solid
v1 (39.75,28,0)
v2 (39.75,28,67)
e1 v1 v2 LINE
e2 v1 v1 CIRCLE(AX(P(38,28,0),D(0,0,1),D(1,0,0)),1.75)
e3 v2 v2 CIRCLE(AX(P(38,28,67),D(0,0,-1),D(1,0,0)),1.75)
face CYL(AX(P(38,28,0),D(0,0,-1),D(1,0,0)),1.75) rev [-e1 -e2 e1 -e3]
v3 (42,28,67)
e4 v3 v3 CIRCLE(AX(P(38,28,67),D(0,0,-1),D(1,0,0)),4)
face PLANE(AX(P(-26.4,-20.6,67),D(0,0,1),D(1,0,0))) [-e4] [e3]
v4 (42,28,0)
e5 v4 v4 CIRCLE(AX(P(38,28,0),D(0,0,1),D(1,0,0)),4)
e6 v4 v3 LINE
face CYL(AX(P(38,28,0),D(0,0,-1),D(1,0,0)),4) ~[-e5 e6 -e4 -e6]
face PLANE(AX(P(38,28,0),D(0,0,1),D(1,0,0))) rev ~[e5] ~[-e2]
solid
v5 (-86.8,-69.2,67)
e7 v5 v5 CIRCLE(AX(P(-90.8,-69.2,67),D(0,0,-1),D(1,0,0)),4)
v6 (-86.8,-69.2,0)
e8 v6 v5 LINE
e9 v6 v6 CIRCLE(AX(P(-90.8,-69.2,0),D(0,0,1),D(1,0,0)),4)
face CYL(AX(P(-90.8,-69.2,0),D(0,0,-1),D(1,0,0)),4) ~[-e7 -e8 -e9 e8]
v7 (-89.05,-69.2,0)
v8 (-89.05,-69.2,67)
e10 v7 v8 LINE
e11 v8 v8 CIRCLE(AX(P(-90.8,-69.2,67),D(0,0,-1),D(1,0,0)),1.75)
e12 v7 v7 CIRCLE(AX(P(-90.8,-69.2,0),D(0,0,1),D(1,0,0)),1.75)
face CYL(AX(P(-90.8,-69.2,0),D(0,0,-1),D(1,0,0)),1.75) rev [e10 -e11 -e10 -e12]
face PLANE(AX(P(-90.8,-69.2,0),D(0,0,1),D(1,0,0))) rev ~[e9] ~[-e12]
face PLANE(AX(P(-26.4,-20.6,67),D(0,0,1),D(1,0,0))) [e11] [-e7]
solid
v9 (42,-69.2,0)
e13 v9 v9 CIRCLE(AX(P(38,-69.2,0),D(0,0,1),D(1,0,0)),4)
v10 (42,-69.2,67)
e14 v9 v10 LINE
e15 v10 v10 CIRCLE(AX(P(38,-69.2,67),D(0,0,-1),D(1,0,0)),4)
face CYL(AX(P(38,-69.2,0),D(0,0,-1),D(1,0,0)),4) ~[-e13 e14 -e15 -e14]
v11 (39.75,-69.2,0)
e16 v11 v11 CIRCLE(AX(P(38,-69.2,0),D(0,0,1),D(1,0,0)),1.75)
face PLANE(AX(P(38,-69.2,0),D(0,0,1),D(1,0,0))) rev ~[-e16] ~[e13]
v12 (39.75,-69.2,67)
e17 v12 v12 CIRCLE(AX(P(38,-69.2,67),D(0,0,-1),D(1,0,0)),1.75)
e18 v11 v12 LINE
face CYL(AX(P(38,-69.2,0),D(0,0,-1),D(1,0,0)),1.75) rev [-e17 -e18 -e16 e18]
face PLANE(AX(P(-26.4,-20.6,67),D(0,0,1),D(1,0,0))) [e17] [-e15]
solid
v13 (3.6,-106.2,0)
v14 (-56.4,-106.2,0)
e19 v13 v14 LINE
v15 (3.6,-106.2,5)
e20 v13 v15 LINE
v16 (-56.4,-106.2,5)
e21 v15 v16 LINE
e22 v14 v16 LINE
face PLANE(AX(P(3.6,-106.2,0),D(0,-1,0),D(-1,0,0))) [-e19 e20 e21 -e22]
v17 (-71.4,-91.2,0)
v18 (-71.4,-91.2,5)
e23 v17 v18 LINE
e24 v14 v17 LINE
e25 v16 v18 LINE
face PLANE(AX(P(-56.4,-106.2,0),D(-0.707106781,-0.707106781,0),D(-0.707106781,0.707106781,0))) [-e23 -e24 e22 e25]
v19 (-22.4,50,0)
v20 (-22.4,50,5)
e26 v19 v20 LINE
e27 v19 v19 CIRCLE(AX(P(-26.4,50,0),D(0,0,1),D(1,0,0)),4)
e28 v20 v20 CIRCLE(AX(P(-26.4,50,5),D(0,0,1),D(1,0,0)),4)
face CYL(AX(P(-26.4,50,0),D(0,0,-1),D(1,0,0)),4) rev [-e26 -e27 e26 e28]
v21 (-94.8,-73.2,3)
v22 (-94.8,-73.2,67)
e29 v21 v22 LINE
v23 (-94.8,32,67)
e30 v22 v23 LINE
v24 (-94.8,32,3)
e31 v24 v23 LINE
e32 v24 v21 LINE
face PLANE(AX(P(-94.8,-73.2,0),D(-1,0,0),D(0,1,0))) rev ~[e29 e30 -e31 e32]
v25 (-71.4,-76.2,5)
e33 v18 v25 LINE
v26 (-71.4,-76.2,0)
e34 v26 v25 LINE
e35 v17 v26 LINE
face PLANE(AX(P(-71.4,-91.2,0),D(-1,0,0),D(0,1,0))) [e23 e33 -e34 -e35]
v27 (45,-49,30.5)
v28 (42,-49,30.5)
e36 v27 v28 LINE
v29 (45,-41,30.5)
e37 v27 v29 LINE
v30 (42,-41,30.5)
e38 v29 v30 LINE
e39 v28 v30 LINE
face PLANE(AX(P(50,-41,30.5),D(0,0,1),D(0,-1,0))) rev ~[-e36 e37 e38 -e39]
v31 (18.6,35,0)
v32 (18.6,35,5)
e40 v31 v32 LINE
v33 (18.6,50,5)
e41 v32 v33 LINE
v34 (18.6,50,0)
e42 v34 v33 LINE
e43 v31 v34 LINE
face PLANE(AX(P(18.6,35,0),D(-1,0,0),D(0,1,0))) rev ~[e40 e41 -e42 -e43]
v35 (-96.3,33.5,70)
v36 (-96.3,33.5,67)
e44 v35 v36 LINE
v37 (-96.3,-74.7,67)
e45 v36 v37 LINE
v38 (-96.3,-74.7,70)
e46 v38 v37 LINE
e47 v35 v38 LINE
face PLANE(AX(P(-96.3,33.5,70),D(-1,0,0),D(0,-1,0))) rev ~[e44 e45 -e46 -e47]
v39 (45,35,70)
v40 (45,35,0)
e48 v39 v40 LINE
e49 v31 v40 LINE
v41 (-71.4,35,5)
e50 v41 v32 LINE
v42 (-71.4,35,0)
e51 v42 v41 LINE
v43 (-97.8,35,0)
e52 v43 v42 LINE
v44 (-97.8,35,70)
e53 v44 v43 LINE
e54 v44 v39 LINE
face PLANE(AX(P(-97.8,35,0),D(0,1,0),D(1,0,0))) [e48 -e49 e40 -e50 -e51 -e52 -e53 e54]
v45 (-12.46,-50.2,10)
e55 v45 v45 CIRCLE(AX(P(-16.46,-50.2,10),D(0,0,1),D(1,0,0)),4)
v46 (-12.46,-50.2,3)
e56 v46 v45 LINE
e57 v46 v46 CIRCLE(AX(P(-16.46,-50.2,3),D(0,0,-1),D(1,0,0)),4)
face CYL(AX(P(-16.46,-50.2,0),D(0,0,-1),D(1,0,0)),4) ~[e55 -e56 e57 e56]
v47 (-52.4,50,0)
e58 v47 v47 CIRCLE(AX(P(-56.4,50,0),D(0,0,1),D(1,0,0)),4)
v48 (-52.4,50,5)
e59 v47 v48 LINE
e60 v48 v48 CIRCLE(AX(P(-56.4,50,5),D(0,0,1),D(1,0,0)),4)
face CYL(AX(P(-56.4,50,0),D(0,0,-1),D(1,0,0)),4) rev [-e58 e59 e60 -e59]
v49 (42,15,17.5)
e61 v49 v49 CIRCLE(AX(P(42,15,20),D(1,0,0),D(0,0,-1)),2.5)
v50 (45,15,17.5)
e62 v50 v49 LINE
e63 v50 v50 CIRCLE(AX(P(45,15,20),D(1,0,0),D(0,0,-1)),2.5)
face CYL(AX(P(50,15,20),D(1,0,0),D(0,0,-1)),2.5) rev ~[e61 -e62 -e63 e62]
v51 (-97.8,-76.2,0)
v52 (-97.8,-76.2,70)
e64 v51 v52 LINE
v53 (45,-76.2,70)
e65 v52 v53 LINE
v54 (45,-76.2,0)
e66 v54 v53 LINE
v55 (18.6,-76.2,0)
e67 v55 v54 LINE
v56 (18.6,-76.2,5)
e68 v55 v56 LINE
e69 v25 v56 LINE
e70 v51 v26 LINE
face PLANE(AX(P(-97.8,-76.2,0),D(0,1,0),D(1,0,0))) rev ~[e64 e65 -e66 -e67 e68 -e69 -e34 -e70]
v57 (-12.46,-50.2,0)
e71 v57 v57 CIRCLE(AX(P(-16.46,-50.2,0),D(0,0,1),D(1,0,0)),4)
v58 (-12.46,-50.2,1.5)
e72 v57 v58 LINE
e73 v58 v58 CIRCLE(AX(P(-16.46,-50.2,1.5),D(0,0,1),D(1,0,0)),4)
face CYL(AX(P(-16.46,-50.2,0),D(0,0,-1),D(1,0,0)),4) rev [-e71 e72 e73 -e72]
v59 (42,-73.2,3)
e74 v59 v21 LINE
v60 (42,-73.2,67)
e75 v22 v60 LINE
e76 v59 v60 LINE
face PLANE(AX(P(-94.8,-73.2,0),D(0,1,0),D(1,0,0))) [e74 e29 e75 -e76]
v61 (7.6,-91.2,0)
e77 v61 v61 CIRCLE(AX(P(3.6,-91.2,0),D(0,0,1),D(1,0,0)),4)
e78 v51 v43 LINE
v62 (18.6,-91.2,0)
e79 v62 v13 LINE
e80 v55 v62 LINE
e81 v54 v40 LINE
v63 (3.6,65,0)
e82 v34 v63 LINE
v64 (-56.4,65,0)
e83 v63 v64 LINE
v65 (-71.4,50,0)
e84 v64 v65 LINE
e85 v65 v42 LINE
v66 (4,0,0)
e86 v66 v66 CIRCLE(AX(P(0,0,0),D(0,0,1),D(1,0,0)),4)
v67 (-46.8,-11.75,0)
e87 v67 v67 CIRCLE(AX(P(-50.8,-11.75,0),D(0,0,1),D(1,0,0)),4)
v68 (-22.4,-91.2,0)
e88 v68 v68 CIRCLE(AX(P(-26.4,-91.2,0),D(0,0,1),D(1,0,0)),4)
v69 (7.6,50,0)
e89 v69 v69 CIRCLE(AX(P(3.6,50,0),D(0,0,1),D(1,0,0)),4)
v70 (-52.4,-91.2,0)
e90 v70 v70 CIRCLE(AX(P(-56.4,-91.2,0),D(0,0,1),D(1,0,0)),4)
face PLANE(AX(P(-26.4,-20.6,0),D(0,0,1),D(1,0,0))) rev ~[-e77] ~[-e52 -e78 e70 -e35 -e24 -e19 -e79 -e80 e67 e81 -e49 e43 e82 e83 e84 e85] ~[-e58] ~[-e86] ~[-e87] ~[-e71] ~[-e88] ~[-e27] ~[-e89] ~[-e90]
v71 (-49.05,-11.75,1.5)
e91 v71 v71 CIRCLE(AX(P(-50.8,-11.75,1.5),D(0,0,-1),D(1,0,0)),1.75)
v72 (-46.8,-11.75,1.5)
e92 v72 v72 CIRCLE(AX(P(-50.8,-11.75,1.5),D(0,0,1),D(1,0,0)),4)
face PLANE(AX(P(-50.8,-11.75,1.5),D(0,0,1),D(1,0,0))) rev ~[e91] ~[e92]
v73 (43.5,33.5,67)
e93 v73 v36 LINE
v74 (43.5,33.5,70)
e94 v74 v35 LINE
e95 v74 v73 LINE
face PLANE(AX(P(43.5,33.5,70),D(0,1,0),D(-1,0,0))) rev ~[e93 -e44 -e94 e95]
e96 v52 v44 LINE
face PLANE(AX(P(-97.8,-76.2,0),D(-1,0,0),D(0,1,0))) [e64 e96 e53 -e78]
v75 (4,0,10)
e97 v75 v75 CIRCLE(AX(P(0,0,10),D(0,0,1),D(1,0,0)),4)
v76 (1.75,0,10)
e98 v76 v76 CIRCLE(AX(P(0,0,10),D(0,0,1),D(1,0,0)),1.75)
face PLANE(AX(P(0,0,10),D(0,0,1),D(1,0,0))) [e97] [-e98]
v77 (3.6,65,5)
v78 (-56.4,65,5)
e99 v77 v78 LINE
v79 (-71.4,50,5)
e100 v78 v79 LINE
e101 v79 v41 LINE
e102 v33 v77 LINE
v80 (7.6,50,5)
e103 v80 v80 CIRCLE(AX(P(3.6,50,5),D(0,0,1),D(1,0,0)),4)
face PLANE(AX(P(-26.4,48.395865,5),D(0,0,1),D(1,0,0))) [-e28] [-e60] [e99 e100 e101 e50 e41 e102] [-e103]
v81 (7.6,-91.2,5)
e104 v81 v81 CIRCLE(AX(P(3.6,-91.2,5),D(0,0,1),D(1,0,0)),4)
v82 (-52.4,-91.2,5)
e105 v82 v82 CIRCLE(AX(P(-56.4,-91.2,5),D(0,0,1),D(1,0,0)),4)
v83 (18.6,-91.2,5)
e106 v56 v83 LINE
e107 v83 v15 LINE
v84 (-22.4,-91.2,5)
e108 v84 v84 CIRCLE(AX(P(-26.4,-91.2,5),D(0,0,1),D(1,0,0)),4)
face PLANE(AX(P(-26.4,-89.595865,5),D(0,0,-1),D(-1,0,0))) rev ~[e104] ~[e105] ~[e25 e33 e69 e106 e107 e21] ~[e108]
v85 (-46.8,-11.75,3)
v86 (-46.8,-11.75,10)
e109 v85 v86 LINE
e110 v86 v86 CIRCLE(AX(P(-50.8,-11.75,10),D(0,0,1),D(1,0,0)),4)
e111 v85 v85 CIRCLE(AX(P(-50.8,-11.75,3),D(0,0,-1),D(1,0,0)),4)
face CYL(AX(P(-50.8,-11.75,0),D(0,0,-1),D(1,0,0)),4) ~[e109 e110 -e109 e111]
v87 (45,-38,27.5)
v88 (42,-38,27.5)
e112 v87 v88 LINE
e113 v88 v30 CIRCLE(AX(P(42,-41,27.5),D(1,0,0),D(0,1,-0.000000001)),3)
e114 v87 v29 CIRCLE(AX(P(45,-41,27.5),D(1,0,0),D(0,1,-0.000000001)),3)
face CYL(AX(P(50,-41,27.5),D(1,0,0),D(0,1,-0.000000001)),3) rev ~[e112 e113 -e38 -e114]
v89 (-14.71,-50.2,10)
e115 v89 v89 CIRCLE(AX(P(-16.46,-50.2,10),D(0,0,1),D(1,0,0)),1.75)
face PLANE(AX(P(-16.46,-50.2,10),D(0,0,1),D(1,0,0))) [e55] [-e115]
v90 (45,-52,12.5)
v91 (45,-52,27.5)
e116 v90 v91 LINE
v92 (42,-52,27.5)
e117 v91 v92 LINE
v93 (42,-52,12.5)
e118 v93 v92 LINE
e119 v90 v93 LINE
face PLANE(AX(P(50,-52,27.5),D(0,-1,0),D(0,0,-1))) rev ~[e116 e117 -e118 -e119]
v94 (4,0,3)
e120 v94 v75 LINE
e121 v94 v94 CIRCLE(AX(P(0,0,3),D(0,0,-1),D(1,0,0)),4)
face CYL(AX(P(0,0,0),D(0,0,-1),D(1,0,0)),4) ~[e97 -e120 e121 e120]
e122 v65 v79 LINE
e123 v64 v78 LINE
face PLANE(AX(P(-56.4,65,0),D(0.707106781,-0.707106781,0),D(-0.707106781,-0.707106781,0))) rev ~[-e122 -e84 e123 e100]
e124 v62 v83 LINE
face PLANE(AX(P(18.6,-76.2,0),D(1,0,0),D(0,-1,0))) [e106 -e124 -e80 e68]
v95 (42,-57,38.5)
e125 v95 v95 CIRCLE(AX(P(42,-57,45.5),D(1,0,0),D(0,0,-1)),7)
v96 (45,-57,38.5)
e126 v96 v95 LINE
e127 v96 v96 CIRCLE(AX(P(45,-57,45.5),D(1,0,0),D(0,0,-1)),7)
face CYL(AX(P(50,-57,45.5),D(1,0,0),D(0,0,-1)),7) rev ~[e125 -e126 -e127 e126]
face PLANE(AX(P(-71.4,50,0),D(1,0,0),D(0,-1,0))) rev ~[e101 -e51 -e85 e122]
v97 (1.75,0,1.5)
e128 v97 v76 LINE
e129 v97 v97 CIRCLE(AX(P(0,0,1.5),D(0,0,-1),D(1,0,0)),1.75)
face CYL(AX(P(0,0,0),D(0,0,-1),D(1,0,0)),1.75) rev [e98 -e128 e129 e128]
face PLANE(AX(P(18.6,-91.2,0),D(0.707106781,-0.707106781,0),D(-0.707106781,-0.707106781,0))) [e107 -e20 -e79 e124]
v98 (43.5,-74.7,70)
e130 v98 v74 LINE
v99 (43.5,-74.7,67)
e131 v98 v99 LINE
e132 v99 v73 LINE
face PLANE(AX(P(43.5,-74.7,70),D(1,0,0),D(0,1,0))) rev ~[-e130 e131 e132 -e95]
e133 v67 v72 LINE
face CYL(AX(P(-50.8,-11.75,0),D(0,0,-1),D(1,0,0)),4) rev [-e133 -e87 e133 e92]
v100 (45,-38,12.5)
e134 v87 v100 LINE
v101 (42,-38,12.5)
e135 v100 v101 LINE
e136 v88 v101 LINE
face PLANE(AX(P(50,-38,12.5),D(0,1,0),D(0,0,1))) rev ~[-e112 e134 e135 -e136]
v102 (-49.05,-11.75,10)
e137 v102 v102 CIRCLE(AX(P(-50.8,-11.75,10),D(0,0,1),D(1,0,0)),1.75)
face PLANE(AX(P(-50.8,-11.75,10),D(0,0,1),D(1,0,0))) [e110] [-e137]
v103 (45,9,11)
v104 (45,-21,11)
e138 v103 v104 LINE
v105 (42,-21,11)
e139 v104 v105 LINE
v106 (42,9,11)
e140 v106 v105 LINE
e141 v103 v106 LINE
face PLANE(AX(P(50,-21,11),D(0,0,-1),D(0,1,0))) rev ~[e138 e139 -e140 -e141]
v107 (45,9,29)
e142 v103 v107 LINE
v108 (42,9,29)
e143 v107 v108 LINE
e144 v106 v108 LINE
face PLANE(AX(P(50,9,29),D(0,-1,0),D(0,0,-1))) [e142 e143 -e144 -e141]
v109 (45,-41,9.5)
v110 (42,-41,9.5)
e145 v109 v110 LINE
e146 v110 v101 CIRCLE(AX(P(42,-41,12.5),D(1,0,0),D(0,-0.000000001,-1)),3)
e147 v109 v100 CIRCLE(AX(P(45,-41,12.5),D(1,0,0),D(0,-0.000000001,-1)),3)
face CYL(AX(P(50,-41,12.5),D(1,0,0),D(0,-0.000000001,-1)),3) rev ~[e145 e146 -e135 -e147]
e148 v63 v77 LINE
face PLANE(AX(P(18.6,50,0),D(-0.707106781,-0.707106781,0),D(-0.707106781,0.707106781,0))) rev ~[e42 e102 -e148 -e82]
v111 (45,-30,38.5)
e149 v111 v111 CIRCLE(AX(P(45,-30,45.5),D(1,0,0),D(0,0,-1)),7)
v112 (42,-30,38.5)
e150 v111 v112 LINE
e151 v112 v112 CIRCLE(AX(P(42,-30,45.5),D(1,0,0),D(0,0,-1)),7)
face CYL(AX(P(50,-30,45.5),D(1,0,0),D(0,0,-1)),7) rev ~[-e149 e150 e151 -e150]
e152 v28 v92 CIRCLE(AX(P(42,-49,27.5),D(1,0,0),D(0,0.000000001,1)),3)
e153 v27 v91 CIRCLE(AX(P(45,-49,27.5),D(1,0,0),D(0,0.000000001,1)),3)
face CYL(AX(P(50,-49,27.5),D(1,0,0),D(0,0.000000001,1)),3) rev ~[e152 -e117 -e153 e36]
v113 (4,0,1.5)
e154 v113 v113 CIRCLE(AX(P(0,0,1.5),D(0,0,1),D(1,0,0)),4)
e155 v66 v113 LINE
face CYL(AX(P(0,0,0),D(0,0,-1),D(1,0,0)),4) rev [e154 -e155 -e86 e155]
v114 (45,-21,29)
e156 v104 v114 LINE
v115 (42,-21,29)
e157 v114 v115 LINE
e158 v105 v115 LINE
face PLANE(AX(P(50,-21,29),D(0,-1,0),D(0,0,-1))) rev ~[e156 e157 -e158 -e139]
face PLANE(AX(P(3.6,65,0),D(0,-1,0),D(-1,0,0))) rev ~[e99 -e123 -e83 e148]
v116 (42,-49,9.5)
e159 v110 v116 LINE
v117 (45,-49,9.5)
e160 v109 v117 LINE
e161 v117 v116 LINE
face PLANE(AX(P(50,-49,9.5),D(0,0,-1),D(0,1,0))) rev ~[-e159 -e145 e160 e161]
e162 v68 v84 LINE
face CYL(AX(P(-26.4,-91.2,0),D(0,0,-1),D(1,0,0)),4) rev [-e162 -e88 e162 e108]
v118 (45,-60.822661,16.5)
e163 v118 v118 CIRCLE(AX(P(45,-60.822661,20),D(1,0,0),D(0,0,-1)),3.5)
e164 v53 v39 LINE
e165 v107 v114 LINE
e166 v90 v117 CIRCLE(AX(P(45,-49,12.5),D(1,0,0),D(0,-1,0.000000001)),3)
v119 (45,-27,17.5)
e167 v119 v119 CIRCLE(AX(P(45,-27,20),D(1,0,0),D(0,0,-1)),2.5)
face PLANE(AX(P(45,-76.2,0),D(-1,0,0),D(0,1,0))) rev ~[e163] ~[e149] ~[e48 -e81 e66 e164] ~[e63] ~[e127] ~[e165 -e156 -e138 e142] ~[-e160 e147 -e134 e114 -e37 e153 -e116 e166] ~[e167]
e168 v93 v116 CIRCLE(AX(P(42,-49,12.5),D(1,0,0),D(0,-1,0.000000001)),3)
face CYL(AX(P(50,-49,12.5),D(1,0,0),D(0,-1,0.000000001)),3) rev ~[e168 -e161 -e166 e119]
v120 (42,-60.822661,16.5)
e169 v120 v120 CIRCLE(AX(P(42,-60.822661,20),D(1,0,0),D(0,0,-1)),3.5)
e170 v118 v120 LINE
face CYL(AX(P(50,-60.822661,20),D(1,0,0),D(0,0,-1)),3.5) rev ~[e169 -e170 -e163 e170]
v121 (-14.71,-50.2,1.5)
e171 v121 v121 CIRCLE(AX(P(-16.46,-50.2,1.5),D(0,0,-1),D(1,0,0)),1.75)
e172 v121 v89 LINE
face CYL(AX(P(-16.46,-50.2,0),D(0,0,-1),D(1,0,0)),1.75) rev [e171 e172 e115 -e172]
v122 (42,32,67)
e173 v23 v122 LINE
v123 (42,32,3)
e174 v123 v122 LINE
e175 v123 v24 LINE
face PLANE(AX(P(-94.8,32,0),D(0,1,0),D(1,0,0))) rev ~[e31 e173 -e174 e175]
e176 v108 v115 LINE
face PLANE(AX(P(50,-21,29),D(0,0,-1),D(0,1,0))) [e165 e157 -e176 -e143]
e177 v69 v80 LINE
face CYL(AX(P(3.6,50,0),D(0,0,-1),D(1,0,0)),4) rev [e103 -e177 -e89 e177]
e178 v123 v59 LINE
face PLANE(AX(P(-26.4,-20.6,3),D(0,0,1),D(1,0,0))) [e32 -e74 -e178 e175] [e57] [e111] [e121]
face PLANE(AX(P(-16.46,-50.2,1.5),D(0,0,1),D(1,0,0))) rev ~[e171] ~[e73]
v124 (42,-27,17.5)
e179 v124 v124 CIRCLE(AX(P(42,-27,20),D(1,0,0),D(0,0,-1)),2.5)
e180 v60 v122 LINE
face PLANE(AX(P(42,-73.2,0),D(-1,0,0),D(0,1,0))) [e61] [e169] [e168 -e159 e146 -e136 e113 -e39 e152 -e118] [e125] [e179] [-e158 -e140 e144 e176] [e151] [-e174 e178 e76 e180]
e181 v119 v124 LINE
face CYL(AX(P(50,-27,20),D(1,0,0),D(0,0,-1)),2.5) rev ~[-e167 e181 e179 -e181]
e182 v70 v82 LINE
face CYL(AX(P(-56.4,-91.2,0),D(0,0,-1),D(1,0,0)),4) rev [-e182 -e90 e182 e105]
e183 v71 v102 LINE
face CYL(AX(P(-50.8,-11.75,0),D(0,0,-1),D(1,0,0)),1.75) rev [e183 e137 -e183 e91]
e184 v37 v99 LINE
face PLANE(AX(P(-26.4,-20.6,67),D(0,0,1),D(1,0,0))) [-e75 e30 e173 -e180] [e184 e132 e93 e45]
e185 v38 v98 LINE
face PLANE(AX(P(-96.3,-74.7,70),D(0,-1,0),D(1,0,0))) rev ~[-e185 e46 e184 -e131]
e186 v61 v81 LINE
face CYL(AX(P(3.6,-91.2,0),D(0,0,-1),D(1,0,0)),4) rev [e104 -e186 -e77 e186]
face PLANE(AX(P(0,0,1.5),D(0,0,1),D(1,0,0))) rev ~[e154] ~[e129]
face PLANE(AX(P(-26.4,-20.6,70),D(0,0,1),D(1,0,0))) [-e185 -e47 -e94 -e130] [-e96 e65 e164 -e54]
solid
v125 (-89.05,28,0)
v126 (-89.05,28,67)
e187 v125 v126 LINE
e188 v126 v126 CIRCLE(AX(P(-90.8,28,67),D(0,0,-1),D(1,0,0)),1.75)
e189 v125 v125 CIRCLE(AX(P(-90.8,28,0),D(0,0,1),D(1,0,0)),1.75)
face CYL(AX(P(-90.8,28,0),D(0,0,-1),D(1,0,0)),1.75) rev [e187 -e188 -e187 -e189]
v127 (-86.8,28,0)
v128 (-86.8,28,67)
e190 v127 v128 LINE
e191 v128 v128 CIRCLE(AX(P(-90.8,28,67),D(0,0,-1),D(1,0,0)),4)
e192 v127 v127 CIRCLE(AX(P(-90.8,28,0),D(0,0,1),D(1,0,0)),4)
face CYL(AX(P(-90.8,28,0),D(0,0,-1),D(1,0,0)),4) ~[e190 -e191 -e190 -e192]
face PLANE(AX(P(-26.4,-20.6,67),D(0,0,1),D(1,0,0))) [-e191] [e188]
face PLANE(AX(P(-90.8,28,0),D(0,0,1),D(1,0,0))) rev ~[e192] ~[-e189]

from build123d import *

# Parameters (mm, degrees)
CROQUIS2_W                = 142.8
CROQUIS2_H                = 111.2
CROQUIS2_R                = 1.75
SALIENTE_EXTRUIR1_DEPTH   = 3
CROQUIS3_R                = 4
CROQUIS3_R_2              = 1.75
SALIENTE_EXTRUIR7_DEPTH   = 70
SALIENTE_EXTRUIR7_2_DEPTH = 70
SALIENTE_EXTRUIR7_3_DEPTH = 70
SALIENTE_EXTRUIR7_4_DEPTH = 70
CROQUIS3_W                = 142.8
CROQUIS3_H                = 111.2
CROQUIS3_W_2              = 136.8
CROQUIS3_H_2              = 105.2
SALIENTE_EXTRUIR7_5_DEPTH = 70
CROQUIS4_R                = 4
CROQUIS4_R_2              = 1.75
SALIENTE_EXTRUIR8_DEPTH   = 10
CROQUIS5_R                = 4
CORTAR_EXTRUIR1_DEPTH     = 1.5
CROQUIS6_R                = 2.5
CROQUIS6_R_2              = 7
CROQUIS6_R_3              = 3.5
CROQUIS6_W                = 18
CROQUIS6_H                = 30
CORTAR_EXTRUIR2_DEPTH     = 37.5
CORTAR_EXTRUIR3_DEPTH     = 3
CROQUIS8_R                = 4
SALIENTE_EXTRUIR9_DEPTH   = 5


with BuildPart() as part:
    # Croquis2 → Saliente-Extruir1 (new body)
    with BuildSketch(Plane.XY):
        with Locations((-26.4, -20.6)):
            Rectangle(CROQUIS2_W, CROQUIS2_H)
        Circle(CROQUIS2_R, mode=Mode.SUBTRACT)
        with Locations((-50.8, -11.75)):
            Circle(CROQUIS2_R, mode=Mode.SUBTRACT)
        with Locations((-16.46, -50.2)):
            Circle(CROQUIS2_R, mode=Mode.SUBTRACT)
    extrude(amount=SALIENTE_EXTRUIR1_DEPTH)



with BuildPart() as body_2:
    # Croquis3 → Saliente-Extruir7 (new body)
    with BuildSketch(Plane.XY):
        with Locations((-90.8, -69.2)):
            Circle(CROQUIS3_R)
        with Locations((-90.8, -69.2)):
            Circle(CROQUIS3_R_2, mode=Mode.SUBTRACT)
    extrude(amount=SALIENTE_EXTRUIR7_DEPTH)


with BuildPart() as body_3:
    # Croquis3 → Saliente-Extruir7 2 (new body)
    with BuildSketch(Plane.XY):
        with Locations((38, -69.2)):
            Circle(CROQUIS3_R)
        with Locations((38, -69.2)):
            Circle(CROQUIS3_R_2, mode=Mode.SUBTRACT)
    extrude(amount=SALIENTE_EXTRUIR7_2_DEPTH)


with BuildPart() as body_4:
    # Croquis3 → Saliente-Extruir7 3 (new body)
    with BuildSketch(Plane.XY):
        with Locations((38, 28)):
            Circle(CROQUIS3_R)
        with Locations((38, 28)):
            Circle(CROQUIS3_R_2, mode=Mode.SUBTRACT)
    extrude(amount=SALIENTE_EXTRUIR7_3_DEPTH)


with BuildPart() as body_5:
    # Croquis3 → Saliente-Extruir7 4 (new body)
    with BuildSketch(Plane.XY):
        with Locations((-90.8, 28)):
            Circle(CROQUIS3_R)
        with Locations((-90.8, 28)):
            Circle(CROQUIS3_R_2, mode=Mode.SUBTRACT)
    extrude(amount=SALIENTE_EXTRUIR7_4_DEPTH)


with BuildPart() as body_6:
    # Croquis3 → Saliente-Extruir7 5 (new body)
    with BuildSketch(Plane.XY):
        with Locations((-26.4, -20.6)):
            Rectangle(CROQUIS3_W, CROQUIS3_H)
        with Locations((-26.4, -20.6)):
            Rectangle(CROQUIS3_W_2, CROQUIS3_H_2, mode=Mode.SUBTRACT)
    extrude(amount=SALIENTE_EXTRUIR7_5_DEPTH)


with BuildPart() as part_1:
    add(part.part)

    add(body_6.part)  # Saliente-Extruir8 merges body 6
    # Croquis4 → Saliente-Extruir8 (add)
    # profile 1 of 3: a face of its own
    with BuildSketch(Plane.XY):
        with Locations((-50.8, -11.75)):
            Circle(CROQUIS4_R)
        with Locations((-50.8, -11.75)):
            Circle(CROQUIS4_R_2, mode=Mode.SUBTRACT)
    # profile 2 of 3: a face of its own
    with BuildSketch(Plane.XY):
        with Locations((-16.46, -50.2)):
            Circle(CROQUIS4_R)
        with Locations((-16.46, -50.2)):
            Circle(CROQUIS4_R_2, mode=Mode.SUBTRACT)
    # profile 3 of 3: a face of its own
    with BuildSketch(Plane.XY):
        Circle(CROQUIS4_R)
        Circle(CROQUIS4_R_2, mode=Mode.SUBTRACT)
    extrude(amount=SALIENTE_EXTRUIR8_DEPTH)

    # Croquis5 → Cortar-Extruir1 (cut)
    with BuildSketch(Plane.XY):
        Circle(CROQUIS5_R)
        with Locations((-16.46, -50.2)):
            Circle(CROQUIS5_R)
        with Locations((-50.8, -11.75)):
            Circle(CROQUIS5_R)
    extrude(amount=CORTAR_EXTRUIR1_DEPTH, mode=Mode.SUBTRACT)

    # Croquis6 → Cortar-Extruir2 (cut)
    with BuildSketch(Plane(origin=(50, 0, 0), x_dir=(0, 0, -1), z_dir=(1, 0, 0))):
        with Locations((-20, 15)):
            Circle(CROQUIS6_R)
        with Locations((-20, -27)):
            Circle(CROQUIS6_R)
        with Locations((-45.5, -57)):
            Circle(CROQUIS6_R_2)
        with Locations((-45.5, -30)):
            Circle(CROQUIS6_R_2)
        with Locations((-20, -60.822661342)):
            Circle(CROQUIS6_R_3)
        with BuildLine():
            Line((-12.5, -38), (-27.5, -38))
            ThreePointArc((-27.5, -38), (-29.621320344, -38.878679656), (-30.5, -41))
            Line((-30.5, -41), (-30.5, -49))
            ThreePointArc((-30.5, -49), (-29.621320344, -51.121320344), (-27.5, -52))
            Line((-27.5, -52), (-12.5, -52))
            ThreePointArc((-12.5, -52), (-10.378679656, -51.121320344), (-9.5, -49))
            Line((-9.5, -49), (-9.5, -41))
            ThreePointArc((-9.5, -41), (-10.378679656, -38.878679656), (-12.5, -38))
        make_face()
        with Locations((-20, -6)):
            Rectangle(CROQUIS6_W, CROQUIS6_H)
    extrude(amount=-CORTAR_EXTRUIR2_DEPTH, mode=Mode.SUBTRACT)


with BuildPart() as cortar_extruir3_tool:
    # Croquis7 → Cortar-Extruir3 (new body)
    with BuildSketch(Plane.XY.offset(70)):
        Polygon((43.5, 33.5), (-94.8, 33.5), (-96.3, 33.5), (-96.3, 32), (-96.3, -74.7), (42, -74.7), (43.5, -74.7), (43.5, -73.2), align=None)
    extrude(amount=-CORTAR_EXTRUIR3_DEPTH)


with BuildPart() as part_2:
    add(part_1.part)

    # Cortar-Extruir3: cut by cortar_extruir3_tool
    add(cortar_extruir3_tool.part, mode=Mode.SUBTRACT)

    # Croquis8 → Saliente-Extruir9 (add)
    # profile 1 of 2: a face of its own
    with BuildSketch(Plane.XY):
        Polygon((-71.4, -76.2), (18.6, -76.2), (18.6, -91.2), (3.6, -106.2), (-56.4, -106.2), (-71.4, -91.2), align=None)
        with Locations((-56.4, -91.2)):
            Circle(CROQUIS8_R, mode=Mode.SUBTRACT)
        with Locations((-26.4, -91.2)):
            Circle(CROQUIS8_R, mode=Mode.SUBTRACT)
        with Locations((3.6, -91.2)):
            Circle(CROQUIS8_R, mode=Mode.SUBTRACT)
    # profile 2 of 2: a face of its own
    with BuildSketch(Plane.XY):
        Polygon((-26.4, 65), (-56.4, 65), (-71.4, 50), (-71.4, 35), (18.6, 35), (18.6, 50), (3.6, 65), align=None)
        with Locations((-56.4, 50)):
            Circle(CROQUIS8_R, mode=Mode.SUBTRACT)
        with Locations((-26.4, 50)):
            Circle(CROQUIS8_R, mode=Mode.SUBTRACT)
        with Locations((3.6, 50)):
            Circle(CROQUIS8_R, mode=Mode.SUBTRACT)
    extrude(amount=SALIENTE_EXTRUIR9_DEPTH)


with BuildPart() as body_2_1:
    add(body_2.part)

    # Cortar-Extruir3: cut by cortar_extruir3_tool
    add(cortar_extruir3_tool.part, mode=Mode.SUBTRACT)


with BuildPart() as body_3_1:
    add(body_3.part)

    # Cortar-Extruir3: cut by cortar_extruir3_tool
    add(cortar_extruir3_tool.part, mode=Mode.SUBTRACT)


with BuildPart() as body_4_1:
    add(body_4.part)

    # Cortar-Extruir3: cut by cortar_extruir3_tool
    add(cortar_extruir3_tool.part, mode=Mode.SUBTRACT)


with BuildPart() as body_5_1:
    add(body_5.part)

    # Cortar-Extruir3: cut by cortar_extruir3_tool
    add(cortar_extruir3_tool.part, mode=Mode.SUBTRACT)


solid = Compound([part_2.part, body_2_1.part, body_3_1.part, body_4_1.part, body_5_1.part])
